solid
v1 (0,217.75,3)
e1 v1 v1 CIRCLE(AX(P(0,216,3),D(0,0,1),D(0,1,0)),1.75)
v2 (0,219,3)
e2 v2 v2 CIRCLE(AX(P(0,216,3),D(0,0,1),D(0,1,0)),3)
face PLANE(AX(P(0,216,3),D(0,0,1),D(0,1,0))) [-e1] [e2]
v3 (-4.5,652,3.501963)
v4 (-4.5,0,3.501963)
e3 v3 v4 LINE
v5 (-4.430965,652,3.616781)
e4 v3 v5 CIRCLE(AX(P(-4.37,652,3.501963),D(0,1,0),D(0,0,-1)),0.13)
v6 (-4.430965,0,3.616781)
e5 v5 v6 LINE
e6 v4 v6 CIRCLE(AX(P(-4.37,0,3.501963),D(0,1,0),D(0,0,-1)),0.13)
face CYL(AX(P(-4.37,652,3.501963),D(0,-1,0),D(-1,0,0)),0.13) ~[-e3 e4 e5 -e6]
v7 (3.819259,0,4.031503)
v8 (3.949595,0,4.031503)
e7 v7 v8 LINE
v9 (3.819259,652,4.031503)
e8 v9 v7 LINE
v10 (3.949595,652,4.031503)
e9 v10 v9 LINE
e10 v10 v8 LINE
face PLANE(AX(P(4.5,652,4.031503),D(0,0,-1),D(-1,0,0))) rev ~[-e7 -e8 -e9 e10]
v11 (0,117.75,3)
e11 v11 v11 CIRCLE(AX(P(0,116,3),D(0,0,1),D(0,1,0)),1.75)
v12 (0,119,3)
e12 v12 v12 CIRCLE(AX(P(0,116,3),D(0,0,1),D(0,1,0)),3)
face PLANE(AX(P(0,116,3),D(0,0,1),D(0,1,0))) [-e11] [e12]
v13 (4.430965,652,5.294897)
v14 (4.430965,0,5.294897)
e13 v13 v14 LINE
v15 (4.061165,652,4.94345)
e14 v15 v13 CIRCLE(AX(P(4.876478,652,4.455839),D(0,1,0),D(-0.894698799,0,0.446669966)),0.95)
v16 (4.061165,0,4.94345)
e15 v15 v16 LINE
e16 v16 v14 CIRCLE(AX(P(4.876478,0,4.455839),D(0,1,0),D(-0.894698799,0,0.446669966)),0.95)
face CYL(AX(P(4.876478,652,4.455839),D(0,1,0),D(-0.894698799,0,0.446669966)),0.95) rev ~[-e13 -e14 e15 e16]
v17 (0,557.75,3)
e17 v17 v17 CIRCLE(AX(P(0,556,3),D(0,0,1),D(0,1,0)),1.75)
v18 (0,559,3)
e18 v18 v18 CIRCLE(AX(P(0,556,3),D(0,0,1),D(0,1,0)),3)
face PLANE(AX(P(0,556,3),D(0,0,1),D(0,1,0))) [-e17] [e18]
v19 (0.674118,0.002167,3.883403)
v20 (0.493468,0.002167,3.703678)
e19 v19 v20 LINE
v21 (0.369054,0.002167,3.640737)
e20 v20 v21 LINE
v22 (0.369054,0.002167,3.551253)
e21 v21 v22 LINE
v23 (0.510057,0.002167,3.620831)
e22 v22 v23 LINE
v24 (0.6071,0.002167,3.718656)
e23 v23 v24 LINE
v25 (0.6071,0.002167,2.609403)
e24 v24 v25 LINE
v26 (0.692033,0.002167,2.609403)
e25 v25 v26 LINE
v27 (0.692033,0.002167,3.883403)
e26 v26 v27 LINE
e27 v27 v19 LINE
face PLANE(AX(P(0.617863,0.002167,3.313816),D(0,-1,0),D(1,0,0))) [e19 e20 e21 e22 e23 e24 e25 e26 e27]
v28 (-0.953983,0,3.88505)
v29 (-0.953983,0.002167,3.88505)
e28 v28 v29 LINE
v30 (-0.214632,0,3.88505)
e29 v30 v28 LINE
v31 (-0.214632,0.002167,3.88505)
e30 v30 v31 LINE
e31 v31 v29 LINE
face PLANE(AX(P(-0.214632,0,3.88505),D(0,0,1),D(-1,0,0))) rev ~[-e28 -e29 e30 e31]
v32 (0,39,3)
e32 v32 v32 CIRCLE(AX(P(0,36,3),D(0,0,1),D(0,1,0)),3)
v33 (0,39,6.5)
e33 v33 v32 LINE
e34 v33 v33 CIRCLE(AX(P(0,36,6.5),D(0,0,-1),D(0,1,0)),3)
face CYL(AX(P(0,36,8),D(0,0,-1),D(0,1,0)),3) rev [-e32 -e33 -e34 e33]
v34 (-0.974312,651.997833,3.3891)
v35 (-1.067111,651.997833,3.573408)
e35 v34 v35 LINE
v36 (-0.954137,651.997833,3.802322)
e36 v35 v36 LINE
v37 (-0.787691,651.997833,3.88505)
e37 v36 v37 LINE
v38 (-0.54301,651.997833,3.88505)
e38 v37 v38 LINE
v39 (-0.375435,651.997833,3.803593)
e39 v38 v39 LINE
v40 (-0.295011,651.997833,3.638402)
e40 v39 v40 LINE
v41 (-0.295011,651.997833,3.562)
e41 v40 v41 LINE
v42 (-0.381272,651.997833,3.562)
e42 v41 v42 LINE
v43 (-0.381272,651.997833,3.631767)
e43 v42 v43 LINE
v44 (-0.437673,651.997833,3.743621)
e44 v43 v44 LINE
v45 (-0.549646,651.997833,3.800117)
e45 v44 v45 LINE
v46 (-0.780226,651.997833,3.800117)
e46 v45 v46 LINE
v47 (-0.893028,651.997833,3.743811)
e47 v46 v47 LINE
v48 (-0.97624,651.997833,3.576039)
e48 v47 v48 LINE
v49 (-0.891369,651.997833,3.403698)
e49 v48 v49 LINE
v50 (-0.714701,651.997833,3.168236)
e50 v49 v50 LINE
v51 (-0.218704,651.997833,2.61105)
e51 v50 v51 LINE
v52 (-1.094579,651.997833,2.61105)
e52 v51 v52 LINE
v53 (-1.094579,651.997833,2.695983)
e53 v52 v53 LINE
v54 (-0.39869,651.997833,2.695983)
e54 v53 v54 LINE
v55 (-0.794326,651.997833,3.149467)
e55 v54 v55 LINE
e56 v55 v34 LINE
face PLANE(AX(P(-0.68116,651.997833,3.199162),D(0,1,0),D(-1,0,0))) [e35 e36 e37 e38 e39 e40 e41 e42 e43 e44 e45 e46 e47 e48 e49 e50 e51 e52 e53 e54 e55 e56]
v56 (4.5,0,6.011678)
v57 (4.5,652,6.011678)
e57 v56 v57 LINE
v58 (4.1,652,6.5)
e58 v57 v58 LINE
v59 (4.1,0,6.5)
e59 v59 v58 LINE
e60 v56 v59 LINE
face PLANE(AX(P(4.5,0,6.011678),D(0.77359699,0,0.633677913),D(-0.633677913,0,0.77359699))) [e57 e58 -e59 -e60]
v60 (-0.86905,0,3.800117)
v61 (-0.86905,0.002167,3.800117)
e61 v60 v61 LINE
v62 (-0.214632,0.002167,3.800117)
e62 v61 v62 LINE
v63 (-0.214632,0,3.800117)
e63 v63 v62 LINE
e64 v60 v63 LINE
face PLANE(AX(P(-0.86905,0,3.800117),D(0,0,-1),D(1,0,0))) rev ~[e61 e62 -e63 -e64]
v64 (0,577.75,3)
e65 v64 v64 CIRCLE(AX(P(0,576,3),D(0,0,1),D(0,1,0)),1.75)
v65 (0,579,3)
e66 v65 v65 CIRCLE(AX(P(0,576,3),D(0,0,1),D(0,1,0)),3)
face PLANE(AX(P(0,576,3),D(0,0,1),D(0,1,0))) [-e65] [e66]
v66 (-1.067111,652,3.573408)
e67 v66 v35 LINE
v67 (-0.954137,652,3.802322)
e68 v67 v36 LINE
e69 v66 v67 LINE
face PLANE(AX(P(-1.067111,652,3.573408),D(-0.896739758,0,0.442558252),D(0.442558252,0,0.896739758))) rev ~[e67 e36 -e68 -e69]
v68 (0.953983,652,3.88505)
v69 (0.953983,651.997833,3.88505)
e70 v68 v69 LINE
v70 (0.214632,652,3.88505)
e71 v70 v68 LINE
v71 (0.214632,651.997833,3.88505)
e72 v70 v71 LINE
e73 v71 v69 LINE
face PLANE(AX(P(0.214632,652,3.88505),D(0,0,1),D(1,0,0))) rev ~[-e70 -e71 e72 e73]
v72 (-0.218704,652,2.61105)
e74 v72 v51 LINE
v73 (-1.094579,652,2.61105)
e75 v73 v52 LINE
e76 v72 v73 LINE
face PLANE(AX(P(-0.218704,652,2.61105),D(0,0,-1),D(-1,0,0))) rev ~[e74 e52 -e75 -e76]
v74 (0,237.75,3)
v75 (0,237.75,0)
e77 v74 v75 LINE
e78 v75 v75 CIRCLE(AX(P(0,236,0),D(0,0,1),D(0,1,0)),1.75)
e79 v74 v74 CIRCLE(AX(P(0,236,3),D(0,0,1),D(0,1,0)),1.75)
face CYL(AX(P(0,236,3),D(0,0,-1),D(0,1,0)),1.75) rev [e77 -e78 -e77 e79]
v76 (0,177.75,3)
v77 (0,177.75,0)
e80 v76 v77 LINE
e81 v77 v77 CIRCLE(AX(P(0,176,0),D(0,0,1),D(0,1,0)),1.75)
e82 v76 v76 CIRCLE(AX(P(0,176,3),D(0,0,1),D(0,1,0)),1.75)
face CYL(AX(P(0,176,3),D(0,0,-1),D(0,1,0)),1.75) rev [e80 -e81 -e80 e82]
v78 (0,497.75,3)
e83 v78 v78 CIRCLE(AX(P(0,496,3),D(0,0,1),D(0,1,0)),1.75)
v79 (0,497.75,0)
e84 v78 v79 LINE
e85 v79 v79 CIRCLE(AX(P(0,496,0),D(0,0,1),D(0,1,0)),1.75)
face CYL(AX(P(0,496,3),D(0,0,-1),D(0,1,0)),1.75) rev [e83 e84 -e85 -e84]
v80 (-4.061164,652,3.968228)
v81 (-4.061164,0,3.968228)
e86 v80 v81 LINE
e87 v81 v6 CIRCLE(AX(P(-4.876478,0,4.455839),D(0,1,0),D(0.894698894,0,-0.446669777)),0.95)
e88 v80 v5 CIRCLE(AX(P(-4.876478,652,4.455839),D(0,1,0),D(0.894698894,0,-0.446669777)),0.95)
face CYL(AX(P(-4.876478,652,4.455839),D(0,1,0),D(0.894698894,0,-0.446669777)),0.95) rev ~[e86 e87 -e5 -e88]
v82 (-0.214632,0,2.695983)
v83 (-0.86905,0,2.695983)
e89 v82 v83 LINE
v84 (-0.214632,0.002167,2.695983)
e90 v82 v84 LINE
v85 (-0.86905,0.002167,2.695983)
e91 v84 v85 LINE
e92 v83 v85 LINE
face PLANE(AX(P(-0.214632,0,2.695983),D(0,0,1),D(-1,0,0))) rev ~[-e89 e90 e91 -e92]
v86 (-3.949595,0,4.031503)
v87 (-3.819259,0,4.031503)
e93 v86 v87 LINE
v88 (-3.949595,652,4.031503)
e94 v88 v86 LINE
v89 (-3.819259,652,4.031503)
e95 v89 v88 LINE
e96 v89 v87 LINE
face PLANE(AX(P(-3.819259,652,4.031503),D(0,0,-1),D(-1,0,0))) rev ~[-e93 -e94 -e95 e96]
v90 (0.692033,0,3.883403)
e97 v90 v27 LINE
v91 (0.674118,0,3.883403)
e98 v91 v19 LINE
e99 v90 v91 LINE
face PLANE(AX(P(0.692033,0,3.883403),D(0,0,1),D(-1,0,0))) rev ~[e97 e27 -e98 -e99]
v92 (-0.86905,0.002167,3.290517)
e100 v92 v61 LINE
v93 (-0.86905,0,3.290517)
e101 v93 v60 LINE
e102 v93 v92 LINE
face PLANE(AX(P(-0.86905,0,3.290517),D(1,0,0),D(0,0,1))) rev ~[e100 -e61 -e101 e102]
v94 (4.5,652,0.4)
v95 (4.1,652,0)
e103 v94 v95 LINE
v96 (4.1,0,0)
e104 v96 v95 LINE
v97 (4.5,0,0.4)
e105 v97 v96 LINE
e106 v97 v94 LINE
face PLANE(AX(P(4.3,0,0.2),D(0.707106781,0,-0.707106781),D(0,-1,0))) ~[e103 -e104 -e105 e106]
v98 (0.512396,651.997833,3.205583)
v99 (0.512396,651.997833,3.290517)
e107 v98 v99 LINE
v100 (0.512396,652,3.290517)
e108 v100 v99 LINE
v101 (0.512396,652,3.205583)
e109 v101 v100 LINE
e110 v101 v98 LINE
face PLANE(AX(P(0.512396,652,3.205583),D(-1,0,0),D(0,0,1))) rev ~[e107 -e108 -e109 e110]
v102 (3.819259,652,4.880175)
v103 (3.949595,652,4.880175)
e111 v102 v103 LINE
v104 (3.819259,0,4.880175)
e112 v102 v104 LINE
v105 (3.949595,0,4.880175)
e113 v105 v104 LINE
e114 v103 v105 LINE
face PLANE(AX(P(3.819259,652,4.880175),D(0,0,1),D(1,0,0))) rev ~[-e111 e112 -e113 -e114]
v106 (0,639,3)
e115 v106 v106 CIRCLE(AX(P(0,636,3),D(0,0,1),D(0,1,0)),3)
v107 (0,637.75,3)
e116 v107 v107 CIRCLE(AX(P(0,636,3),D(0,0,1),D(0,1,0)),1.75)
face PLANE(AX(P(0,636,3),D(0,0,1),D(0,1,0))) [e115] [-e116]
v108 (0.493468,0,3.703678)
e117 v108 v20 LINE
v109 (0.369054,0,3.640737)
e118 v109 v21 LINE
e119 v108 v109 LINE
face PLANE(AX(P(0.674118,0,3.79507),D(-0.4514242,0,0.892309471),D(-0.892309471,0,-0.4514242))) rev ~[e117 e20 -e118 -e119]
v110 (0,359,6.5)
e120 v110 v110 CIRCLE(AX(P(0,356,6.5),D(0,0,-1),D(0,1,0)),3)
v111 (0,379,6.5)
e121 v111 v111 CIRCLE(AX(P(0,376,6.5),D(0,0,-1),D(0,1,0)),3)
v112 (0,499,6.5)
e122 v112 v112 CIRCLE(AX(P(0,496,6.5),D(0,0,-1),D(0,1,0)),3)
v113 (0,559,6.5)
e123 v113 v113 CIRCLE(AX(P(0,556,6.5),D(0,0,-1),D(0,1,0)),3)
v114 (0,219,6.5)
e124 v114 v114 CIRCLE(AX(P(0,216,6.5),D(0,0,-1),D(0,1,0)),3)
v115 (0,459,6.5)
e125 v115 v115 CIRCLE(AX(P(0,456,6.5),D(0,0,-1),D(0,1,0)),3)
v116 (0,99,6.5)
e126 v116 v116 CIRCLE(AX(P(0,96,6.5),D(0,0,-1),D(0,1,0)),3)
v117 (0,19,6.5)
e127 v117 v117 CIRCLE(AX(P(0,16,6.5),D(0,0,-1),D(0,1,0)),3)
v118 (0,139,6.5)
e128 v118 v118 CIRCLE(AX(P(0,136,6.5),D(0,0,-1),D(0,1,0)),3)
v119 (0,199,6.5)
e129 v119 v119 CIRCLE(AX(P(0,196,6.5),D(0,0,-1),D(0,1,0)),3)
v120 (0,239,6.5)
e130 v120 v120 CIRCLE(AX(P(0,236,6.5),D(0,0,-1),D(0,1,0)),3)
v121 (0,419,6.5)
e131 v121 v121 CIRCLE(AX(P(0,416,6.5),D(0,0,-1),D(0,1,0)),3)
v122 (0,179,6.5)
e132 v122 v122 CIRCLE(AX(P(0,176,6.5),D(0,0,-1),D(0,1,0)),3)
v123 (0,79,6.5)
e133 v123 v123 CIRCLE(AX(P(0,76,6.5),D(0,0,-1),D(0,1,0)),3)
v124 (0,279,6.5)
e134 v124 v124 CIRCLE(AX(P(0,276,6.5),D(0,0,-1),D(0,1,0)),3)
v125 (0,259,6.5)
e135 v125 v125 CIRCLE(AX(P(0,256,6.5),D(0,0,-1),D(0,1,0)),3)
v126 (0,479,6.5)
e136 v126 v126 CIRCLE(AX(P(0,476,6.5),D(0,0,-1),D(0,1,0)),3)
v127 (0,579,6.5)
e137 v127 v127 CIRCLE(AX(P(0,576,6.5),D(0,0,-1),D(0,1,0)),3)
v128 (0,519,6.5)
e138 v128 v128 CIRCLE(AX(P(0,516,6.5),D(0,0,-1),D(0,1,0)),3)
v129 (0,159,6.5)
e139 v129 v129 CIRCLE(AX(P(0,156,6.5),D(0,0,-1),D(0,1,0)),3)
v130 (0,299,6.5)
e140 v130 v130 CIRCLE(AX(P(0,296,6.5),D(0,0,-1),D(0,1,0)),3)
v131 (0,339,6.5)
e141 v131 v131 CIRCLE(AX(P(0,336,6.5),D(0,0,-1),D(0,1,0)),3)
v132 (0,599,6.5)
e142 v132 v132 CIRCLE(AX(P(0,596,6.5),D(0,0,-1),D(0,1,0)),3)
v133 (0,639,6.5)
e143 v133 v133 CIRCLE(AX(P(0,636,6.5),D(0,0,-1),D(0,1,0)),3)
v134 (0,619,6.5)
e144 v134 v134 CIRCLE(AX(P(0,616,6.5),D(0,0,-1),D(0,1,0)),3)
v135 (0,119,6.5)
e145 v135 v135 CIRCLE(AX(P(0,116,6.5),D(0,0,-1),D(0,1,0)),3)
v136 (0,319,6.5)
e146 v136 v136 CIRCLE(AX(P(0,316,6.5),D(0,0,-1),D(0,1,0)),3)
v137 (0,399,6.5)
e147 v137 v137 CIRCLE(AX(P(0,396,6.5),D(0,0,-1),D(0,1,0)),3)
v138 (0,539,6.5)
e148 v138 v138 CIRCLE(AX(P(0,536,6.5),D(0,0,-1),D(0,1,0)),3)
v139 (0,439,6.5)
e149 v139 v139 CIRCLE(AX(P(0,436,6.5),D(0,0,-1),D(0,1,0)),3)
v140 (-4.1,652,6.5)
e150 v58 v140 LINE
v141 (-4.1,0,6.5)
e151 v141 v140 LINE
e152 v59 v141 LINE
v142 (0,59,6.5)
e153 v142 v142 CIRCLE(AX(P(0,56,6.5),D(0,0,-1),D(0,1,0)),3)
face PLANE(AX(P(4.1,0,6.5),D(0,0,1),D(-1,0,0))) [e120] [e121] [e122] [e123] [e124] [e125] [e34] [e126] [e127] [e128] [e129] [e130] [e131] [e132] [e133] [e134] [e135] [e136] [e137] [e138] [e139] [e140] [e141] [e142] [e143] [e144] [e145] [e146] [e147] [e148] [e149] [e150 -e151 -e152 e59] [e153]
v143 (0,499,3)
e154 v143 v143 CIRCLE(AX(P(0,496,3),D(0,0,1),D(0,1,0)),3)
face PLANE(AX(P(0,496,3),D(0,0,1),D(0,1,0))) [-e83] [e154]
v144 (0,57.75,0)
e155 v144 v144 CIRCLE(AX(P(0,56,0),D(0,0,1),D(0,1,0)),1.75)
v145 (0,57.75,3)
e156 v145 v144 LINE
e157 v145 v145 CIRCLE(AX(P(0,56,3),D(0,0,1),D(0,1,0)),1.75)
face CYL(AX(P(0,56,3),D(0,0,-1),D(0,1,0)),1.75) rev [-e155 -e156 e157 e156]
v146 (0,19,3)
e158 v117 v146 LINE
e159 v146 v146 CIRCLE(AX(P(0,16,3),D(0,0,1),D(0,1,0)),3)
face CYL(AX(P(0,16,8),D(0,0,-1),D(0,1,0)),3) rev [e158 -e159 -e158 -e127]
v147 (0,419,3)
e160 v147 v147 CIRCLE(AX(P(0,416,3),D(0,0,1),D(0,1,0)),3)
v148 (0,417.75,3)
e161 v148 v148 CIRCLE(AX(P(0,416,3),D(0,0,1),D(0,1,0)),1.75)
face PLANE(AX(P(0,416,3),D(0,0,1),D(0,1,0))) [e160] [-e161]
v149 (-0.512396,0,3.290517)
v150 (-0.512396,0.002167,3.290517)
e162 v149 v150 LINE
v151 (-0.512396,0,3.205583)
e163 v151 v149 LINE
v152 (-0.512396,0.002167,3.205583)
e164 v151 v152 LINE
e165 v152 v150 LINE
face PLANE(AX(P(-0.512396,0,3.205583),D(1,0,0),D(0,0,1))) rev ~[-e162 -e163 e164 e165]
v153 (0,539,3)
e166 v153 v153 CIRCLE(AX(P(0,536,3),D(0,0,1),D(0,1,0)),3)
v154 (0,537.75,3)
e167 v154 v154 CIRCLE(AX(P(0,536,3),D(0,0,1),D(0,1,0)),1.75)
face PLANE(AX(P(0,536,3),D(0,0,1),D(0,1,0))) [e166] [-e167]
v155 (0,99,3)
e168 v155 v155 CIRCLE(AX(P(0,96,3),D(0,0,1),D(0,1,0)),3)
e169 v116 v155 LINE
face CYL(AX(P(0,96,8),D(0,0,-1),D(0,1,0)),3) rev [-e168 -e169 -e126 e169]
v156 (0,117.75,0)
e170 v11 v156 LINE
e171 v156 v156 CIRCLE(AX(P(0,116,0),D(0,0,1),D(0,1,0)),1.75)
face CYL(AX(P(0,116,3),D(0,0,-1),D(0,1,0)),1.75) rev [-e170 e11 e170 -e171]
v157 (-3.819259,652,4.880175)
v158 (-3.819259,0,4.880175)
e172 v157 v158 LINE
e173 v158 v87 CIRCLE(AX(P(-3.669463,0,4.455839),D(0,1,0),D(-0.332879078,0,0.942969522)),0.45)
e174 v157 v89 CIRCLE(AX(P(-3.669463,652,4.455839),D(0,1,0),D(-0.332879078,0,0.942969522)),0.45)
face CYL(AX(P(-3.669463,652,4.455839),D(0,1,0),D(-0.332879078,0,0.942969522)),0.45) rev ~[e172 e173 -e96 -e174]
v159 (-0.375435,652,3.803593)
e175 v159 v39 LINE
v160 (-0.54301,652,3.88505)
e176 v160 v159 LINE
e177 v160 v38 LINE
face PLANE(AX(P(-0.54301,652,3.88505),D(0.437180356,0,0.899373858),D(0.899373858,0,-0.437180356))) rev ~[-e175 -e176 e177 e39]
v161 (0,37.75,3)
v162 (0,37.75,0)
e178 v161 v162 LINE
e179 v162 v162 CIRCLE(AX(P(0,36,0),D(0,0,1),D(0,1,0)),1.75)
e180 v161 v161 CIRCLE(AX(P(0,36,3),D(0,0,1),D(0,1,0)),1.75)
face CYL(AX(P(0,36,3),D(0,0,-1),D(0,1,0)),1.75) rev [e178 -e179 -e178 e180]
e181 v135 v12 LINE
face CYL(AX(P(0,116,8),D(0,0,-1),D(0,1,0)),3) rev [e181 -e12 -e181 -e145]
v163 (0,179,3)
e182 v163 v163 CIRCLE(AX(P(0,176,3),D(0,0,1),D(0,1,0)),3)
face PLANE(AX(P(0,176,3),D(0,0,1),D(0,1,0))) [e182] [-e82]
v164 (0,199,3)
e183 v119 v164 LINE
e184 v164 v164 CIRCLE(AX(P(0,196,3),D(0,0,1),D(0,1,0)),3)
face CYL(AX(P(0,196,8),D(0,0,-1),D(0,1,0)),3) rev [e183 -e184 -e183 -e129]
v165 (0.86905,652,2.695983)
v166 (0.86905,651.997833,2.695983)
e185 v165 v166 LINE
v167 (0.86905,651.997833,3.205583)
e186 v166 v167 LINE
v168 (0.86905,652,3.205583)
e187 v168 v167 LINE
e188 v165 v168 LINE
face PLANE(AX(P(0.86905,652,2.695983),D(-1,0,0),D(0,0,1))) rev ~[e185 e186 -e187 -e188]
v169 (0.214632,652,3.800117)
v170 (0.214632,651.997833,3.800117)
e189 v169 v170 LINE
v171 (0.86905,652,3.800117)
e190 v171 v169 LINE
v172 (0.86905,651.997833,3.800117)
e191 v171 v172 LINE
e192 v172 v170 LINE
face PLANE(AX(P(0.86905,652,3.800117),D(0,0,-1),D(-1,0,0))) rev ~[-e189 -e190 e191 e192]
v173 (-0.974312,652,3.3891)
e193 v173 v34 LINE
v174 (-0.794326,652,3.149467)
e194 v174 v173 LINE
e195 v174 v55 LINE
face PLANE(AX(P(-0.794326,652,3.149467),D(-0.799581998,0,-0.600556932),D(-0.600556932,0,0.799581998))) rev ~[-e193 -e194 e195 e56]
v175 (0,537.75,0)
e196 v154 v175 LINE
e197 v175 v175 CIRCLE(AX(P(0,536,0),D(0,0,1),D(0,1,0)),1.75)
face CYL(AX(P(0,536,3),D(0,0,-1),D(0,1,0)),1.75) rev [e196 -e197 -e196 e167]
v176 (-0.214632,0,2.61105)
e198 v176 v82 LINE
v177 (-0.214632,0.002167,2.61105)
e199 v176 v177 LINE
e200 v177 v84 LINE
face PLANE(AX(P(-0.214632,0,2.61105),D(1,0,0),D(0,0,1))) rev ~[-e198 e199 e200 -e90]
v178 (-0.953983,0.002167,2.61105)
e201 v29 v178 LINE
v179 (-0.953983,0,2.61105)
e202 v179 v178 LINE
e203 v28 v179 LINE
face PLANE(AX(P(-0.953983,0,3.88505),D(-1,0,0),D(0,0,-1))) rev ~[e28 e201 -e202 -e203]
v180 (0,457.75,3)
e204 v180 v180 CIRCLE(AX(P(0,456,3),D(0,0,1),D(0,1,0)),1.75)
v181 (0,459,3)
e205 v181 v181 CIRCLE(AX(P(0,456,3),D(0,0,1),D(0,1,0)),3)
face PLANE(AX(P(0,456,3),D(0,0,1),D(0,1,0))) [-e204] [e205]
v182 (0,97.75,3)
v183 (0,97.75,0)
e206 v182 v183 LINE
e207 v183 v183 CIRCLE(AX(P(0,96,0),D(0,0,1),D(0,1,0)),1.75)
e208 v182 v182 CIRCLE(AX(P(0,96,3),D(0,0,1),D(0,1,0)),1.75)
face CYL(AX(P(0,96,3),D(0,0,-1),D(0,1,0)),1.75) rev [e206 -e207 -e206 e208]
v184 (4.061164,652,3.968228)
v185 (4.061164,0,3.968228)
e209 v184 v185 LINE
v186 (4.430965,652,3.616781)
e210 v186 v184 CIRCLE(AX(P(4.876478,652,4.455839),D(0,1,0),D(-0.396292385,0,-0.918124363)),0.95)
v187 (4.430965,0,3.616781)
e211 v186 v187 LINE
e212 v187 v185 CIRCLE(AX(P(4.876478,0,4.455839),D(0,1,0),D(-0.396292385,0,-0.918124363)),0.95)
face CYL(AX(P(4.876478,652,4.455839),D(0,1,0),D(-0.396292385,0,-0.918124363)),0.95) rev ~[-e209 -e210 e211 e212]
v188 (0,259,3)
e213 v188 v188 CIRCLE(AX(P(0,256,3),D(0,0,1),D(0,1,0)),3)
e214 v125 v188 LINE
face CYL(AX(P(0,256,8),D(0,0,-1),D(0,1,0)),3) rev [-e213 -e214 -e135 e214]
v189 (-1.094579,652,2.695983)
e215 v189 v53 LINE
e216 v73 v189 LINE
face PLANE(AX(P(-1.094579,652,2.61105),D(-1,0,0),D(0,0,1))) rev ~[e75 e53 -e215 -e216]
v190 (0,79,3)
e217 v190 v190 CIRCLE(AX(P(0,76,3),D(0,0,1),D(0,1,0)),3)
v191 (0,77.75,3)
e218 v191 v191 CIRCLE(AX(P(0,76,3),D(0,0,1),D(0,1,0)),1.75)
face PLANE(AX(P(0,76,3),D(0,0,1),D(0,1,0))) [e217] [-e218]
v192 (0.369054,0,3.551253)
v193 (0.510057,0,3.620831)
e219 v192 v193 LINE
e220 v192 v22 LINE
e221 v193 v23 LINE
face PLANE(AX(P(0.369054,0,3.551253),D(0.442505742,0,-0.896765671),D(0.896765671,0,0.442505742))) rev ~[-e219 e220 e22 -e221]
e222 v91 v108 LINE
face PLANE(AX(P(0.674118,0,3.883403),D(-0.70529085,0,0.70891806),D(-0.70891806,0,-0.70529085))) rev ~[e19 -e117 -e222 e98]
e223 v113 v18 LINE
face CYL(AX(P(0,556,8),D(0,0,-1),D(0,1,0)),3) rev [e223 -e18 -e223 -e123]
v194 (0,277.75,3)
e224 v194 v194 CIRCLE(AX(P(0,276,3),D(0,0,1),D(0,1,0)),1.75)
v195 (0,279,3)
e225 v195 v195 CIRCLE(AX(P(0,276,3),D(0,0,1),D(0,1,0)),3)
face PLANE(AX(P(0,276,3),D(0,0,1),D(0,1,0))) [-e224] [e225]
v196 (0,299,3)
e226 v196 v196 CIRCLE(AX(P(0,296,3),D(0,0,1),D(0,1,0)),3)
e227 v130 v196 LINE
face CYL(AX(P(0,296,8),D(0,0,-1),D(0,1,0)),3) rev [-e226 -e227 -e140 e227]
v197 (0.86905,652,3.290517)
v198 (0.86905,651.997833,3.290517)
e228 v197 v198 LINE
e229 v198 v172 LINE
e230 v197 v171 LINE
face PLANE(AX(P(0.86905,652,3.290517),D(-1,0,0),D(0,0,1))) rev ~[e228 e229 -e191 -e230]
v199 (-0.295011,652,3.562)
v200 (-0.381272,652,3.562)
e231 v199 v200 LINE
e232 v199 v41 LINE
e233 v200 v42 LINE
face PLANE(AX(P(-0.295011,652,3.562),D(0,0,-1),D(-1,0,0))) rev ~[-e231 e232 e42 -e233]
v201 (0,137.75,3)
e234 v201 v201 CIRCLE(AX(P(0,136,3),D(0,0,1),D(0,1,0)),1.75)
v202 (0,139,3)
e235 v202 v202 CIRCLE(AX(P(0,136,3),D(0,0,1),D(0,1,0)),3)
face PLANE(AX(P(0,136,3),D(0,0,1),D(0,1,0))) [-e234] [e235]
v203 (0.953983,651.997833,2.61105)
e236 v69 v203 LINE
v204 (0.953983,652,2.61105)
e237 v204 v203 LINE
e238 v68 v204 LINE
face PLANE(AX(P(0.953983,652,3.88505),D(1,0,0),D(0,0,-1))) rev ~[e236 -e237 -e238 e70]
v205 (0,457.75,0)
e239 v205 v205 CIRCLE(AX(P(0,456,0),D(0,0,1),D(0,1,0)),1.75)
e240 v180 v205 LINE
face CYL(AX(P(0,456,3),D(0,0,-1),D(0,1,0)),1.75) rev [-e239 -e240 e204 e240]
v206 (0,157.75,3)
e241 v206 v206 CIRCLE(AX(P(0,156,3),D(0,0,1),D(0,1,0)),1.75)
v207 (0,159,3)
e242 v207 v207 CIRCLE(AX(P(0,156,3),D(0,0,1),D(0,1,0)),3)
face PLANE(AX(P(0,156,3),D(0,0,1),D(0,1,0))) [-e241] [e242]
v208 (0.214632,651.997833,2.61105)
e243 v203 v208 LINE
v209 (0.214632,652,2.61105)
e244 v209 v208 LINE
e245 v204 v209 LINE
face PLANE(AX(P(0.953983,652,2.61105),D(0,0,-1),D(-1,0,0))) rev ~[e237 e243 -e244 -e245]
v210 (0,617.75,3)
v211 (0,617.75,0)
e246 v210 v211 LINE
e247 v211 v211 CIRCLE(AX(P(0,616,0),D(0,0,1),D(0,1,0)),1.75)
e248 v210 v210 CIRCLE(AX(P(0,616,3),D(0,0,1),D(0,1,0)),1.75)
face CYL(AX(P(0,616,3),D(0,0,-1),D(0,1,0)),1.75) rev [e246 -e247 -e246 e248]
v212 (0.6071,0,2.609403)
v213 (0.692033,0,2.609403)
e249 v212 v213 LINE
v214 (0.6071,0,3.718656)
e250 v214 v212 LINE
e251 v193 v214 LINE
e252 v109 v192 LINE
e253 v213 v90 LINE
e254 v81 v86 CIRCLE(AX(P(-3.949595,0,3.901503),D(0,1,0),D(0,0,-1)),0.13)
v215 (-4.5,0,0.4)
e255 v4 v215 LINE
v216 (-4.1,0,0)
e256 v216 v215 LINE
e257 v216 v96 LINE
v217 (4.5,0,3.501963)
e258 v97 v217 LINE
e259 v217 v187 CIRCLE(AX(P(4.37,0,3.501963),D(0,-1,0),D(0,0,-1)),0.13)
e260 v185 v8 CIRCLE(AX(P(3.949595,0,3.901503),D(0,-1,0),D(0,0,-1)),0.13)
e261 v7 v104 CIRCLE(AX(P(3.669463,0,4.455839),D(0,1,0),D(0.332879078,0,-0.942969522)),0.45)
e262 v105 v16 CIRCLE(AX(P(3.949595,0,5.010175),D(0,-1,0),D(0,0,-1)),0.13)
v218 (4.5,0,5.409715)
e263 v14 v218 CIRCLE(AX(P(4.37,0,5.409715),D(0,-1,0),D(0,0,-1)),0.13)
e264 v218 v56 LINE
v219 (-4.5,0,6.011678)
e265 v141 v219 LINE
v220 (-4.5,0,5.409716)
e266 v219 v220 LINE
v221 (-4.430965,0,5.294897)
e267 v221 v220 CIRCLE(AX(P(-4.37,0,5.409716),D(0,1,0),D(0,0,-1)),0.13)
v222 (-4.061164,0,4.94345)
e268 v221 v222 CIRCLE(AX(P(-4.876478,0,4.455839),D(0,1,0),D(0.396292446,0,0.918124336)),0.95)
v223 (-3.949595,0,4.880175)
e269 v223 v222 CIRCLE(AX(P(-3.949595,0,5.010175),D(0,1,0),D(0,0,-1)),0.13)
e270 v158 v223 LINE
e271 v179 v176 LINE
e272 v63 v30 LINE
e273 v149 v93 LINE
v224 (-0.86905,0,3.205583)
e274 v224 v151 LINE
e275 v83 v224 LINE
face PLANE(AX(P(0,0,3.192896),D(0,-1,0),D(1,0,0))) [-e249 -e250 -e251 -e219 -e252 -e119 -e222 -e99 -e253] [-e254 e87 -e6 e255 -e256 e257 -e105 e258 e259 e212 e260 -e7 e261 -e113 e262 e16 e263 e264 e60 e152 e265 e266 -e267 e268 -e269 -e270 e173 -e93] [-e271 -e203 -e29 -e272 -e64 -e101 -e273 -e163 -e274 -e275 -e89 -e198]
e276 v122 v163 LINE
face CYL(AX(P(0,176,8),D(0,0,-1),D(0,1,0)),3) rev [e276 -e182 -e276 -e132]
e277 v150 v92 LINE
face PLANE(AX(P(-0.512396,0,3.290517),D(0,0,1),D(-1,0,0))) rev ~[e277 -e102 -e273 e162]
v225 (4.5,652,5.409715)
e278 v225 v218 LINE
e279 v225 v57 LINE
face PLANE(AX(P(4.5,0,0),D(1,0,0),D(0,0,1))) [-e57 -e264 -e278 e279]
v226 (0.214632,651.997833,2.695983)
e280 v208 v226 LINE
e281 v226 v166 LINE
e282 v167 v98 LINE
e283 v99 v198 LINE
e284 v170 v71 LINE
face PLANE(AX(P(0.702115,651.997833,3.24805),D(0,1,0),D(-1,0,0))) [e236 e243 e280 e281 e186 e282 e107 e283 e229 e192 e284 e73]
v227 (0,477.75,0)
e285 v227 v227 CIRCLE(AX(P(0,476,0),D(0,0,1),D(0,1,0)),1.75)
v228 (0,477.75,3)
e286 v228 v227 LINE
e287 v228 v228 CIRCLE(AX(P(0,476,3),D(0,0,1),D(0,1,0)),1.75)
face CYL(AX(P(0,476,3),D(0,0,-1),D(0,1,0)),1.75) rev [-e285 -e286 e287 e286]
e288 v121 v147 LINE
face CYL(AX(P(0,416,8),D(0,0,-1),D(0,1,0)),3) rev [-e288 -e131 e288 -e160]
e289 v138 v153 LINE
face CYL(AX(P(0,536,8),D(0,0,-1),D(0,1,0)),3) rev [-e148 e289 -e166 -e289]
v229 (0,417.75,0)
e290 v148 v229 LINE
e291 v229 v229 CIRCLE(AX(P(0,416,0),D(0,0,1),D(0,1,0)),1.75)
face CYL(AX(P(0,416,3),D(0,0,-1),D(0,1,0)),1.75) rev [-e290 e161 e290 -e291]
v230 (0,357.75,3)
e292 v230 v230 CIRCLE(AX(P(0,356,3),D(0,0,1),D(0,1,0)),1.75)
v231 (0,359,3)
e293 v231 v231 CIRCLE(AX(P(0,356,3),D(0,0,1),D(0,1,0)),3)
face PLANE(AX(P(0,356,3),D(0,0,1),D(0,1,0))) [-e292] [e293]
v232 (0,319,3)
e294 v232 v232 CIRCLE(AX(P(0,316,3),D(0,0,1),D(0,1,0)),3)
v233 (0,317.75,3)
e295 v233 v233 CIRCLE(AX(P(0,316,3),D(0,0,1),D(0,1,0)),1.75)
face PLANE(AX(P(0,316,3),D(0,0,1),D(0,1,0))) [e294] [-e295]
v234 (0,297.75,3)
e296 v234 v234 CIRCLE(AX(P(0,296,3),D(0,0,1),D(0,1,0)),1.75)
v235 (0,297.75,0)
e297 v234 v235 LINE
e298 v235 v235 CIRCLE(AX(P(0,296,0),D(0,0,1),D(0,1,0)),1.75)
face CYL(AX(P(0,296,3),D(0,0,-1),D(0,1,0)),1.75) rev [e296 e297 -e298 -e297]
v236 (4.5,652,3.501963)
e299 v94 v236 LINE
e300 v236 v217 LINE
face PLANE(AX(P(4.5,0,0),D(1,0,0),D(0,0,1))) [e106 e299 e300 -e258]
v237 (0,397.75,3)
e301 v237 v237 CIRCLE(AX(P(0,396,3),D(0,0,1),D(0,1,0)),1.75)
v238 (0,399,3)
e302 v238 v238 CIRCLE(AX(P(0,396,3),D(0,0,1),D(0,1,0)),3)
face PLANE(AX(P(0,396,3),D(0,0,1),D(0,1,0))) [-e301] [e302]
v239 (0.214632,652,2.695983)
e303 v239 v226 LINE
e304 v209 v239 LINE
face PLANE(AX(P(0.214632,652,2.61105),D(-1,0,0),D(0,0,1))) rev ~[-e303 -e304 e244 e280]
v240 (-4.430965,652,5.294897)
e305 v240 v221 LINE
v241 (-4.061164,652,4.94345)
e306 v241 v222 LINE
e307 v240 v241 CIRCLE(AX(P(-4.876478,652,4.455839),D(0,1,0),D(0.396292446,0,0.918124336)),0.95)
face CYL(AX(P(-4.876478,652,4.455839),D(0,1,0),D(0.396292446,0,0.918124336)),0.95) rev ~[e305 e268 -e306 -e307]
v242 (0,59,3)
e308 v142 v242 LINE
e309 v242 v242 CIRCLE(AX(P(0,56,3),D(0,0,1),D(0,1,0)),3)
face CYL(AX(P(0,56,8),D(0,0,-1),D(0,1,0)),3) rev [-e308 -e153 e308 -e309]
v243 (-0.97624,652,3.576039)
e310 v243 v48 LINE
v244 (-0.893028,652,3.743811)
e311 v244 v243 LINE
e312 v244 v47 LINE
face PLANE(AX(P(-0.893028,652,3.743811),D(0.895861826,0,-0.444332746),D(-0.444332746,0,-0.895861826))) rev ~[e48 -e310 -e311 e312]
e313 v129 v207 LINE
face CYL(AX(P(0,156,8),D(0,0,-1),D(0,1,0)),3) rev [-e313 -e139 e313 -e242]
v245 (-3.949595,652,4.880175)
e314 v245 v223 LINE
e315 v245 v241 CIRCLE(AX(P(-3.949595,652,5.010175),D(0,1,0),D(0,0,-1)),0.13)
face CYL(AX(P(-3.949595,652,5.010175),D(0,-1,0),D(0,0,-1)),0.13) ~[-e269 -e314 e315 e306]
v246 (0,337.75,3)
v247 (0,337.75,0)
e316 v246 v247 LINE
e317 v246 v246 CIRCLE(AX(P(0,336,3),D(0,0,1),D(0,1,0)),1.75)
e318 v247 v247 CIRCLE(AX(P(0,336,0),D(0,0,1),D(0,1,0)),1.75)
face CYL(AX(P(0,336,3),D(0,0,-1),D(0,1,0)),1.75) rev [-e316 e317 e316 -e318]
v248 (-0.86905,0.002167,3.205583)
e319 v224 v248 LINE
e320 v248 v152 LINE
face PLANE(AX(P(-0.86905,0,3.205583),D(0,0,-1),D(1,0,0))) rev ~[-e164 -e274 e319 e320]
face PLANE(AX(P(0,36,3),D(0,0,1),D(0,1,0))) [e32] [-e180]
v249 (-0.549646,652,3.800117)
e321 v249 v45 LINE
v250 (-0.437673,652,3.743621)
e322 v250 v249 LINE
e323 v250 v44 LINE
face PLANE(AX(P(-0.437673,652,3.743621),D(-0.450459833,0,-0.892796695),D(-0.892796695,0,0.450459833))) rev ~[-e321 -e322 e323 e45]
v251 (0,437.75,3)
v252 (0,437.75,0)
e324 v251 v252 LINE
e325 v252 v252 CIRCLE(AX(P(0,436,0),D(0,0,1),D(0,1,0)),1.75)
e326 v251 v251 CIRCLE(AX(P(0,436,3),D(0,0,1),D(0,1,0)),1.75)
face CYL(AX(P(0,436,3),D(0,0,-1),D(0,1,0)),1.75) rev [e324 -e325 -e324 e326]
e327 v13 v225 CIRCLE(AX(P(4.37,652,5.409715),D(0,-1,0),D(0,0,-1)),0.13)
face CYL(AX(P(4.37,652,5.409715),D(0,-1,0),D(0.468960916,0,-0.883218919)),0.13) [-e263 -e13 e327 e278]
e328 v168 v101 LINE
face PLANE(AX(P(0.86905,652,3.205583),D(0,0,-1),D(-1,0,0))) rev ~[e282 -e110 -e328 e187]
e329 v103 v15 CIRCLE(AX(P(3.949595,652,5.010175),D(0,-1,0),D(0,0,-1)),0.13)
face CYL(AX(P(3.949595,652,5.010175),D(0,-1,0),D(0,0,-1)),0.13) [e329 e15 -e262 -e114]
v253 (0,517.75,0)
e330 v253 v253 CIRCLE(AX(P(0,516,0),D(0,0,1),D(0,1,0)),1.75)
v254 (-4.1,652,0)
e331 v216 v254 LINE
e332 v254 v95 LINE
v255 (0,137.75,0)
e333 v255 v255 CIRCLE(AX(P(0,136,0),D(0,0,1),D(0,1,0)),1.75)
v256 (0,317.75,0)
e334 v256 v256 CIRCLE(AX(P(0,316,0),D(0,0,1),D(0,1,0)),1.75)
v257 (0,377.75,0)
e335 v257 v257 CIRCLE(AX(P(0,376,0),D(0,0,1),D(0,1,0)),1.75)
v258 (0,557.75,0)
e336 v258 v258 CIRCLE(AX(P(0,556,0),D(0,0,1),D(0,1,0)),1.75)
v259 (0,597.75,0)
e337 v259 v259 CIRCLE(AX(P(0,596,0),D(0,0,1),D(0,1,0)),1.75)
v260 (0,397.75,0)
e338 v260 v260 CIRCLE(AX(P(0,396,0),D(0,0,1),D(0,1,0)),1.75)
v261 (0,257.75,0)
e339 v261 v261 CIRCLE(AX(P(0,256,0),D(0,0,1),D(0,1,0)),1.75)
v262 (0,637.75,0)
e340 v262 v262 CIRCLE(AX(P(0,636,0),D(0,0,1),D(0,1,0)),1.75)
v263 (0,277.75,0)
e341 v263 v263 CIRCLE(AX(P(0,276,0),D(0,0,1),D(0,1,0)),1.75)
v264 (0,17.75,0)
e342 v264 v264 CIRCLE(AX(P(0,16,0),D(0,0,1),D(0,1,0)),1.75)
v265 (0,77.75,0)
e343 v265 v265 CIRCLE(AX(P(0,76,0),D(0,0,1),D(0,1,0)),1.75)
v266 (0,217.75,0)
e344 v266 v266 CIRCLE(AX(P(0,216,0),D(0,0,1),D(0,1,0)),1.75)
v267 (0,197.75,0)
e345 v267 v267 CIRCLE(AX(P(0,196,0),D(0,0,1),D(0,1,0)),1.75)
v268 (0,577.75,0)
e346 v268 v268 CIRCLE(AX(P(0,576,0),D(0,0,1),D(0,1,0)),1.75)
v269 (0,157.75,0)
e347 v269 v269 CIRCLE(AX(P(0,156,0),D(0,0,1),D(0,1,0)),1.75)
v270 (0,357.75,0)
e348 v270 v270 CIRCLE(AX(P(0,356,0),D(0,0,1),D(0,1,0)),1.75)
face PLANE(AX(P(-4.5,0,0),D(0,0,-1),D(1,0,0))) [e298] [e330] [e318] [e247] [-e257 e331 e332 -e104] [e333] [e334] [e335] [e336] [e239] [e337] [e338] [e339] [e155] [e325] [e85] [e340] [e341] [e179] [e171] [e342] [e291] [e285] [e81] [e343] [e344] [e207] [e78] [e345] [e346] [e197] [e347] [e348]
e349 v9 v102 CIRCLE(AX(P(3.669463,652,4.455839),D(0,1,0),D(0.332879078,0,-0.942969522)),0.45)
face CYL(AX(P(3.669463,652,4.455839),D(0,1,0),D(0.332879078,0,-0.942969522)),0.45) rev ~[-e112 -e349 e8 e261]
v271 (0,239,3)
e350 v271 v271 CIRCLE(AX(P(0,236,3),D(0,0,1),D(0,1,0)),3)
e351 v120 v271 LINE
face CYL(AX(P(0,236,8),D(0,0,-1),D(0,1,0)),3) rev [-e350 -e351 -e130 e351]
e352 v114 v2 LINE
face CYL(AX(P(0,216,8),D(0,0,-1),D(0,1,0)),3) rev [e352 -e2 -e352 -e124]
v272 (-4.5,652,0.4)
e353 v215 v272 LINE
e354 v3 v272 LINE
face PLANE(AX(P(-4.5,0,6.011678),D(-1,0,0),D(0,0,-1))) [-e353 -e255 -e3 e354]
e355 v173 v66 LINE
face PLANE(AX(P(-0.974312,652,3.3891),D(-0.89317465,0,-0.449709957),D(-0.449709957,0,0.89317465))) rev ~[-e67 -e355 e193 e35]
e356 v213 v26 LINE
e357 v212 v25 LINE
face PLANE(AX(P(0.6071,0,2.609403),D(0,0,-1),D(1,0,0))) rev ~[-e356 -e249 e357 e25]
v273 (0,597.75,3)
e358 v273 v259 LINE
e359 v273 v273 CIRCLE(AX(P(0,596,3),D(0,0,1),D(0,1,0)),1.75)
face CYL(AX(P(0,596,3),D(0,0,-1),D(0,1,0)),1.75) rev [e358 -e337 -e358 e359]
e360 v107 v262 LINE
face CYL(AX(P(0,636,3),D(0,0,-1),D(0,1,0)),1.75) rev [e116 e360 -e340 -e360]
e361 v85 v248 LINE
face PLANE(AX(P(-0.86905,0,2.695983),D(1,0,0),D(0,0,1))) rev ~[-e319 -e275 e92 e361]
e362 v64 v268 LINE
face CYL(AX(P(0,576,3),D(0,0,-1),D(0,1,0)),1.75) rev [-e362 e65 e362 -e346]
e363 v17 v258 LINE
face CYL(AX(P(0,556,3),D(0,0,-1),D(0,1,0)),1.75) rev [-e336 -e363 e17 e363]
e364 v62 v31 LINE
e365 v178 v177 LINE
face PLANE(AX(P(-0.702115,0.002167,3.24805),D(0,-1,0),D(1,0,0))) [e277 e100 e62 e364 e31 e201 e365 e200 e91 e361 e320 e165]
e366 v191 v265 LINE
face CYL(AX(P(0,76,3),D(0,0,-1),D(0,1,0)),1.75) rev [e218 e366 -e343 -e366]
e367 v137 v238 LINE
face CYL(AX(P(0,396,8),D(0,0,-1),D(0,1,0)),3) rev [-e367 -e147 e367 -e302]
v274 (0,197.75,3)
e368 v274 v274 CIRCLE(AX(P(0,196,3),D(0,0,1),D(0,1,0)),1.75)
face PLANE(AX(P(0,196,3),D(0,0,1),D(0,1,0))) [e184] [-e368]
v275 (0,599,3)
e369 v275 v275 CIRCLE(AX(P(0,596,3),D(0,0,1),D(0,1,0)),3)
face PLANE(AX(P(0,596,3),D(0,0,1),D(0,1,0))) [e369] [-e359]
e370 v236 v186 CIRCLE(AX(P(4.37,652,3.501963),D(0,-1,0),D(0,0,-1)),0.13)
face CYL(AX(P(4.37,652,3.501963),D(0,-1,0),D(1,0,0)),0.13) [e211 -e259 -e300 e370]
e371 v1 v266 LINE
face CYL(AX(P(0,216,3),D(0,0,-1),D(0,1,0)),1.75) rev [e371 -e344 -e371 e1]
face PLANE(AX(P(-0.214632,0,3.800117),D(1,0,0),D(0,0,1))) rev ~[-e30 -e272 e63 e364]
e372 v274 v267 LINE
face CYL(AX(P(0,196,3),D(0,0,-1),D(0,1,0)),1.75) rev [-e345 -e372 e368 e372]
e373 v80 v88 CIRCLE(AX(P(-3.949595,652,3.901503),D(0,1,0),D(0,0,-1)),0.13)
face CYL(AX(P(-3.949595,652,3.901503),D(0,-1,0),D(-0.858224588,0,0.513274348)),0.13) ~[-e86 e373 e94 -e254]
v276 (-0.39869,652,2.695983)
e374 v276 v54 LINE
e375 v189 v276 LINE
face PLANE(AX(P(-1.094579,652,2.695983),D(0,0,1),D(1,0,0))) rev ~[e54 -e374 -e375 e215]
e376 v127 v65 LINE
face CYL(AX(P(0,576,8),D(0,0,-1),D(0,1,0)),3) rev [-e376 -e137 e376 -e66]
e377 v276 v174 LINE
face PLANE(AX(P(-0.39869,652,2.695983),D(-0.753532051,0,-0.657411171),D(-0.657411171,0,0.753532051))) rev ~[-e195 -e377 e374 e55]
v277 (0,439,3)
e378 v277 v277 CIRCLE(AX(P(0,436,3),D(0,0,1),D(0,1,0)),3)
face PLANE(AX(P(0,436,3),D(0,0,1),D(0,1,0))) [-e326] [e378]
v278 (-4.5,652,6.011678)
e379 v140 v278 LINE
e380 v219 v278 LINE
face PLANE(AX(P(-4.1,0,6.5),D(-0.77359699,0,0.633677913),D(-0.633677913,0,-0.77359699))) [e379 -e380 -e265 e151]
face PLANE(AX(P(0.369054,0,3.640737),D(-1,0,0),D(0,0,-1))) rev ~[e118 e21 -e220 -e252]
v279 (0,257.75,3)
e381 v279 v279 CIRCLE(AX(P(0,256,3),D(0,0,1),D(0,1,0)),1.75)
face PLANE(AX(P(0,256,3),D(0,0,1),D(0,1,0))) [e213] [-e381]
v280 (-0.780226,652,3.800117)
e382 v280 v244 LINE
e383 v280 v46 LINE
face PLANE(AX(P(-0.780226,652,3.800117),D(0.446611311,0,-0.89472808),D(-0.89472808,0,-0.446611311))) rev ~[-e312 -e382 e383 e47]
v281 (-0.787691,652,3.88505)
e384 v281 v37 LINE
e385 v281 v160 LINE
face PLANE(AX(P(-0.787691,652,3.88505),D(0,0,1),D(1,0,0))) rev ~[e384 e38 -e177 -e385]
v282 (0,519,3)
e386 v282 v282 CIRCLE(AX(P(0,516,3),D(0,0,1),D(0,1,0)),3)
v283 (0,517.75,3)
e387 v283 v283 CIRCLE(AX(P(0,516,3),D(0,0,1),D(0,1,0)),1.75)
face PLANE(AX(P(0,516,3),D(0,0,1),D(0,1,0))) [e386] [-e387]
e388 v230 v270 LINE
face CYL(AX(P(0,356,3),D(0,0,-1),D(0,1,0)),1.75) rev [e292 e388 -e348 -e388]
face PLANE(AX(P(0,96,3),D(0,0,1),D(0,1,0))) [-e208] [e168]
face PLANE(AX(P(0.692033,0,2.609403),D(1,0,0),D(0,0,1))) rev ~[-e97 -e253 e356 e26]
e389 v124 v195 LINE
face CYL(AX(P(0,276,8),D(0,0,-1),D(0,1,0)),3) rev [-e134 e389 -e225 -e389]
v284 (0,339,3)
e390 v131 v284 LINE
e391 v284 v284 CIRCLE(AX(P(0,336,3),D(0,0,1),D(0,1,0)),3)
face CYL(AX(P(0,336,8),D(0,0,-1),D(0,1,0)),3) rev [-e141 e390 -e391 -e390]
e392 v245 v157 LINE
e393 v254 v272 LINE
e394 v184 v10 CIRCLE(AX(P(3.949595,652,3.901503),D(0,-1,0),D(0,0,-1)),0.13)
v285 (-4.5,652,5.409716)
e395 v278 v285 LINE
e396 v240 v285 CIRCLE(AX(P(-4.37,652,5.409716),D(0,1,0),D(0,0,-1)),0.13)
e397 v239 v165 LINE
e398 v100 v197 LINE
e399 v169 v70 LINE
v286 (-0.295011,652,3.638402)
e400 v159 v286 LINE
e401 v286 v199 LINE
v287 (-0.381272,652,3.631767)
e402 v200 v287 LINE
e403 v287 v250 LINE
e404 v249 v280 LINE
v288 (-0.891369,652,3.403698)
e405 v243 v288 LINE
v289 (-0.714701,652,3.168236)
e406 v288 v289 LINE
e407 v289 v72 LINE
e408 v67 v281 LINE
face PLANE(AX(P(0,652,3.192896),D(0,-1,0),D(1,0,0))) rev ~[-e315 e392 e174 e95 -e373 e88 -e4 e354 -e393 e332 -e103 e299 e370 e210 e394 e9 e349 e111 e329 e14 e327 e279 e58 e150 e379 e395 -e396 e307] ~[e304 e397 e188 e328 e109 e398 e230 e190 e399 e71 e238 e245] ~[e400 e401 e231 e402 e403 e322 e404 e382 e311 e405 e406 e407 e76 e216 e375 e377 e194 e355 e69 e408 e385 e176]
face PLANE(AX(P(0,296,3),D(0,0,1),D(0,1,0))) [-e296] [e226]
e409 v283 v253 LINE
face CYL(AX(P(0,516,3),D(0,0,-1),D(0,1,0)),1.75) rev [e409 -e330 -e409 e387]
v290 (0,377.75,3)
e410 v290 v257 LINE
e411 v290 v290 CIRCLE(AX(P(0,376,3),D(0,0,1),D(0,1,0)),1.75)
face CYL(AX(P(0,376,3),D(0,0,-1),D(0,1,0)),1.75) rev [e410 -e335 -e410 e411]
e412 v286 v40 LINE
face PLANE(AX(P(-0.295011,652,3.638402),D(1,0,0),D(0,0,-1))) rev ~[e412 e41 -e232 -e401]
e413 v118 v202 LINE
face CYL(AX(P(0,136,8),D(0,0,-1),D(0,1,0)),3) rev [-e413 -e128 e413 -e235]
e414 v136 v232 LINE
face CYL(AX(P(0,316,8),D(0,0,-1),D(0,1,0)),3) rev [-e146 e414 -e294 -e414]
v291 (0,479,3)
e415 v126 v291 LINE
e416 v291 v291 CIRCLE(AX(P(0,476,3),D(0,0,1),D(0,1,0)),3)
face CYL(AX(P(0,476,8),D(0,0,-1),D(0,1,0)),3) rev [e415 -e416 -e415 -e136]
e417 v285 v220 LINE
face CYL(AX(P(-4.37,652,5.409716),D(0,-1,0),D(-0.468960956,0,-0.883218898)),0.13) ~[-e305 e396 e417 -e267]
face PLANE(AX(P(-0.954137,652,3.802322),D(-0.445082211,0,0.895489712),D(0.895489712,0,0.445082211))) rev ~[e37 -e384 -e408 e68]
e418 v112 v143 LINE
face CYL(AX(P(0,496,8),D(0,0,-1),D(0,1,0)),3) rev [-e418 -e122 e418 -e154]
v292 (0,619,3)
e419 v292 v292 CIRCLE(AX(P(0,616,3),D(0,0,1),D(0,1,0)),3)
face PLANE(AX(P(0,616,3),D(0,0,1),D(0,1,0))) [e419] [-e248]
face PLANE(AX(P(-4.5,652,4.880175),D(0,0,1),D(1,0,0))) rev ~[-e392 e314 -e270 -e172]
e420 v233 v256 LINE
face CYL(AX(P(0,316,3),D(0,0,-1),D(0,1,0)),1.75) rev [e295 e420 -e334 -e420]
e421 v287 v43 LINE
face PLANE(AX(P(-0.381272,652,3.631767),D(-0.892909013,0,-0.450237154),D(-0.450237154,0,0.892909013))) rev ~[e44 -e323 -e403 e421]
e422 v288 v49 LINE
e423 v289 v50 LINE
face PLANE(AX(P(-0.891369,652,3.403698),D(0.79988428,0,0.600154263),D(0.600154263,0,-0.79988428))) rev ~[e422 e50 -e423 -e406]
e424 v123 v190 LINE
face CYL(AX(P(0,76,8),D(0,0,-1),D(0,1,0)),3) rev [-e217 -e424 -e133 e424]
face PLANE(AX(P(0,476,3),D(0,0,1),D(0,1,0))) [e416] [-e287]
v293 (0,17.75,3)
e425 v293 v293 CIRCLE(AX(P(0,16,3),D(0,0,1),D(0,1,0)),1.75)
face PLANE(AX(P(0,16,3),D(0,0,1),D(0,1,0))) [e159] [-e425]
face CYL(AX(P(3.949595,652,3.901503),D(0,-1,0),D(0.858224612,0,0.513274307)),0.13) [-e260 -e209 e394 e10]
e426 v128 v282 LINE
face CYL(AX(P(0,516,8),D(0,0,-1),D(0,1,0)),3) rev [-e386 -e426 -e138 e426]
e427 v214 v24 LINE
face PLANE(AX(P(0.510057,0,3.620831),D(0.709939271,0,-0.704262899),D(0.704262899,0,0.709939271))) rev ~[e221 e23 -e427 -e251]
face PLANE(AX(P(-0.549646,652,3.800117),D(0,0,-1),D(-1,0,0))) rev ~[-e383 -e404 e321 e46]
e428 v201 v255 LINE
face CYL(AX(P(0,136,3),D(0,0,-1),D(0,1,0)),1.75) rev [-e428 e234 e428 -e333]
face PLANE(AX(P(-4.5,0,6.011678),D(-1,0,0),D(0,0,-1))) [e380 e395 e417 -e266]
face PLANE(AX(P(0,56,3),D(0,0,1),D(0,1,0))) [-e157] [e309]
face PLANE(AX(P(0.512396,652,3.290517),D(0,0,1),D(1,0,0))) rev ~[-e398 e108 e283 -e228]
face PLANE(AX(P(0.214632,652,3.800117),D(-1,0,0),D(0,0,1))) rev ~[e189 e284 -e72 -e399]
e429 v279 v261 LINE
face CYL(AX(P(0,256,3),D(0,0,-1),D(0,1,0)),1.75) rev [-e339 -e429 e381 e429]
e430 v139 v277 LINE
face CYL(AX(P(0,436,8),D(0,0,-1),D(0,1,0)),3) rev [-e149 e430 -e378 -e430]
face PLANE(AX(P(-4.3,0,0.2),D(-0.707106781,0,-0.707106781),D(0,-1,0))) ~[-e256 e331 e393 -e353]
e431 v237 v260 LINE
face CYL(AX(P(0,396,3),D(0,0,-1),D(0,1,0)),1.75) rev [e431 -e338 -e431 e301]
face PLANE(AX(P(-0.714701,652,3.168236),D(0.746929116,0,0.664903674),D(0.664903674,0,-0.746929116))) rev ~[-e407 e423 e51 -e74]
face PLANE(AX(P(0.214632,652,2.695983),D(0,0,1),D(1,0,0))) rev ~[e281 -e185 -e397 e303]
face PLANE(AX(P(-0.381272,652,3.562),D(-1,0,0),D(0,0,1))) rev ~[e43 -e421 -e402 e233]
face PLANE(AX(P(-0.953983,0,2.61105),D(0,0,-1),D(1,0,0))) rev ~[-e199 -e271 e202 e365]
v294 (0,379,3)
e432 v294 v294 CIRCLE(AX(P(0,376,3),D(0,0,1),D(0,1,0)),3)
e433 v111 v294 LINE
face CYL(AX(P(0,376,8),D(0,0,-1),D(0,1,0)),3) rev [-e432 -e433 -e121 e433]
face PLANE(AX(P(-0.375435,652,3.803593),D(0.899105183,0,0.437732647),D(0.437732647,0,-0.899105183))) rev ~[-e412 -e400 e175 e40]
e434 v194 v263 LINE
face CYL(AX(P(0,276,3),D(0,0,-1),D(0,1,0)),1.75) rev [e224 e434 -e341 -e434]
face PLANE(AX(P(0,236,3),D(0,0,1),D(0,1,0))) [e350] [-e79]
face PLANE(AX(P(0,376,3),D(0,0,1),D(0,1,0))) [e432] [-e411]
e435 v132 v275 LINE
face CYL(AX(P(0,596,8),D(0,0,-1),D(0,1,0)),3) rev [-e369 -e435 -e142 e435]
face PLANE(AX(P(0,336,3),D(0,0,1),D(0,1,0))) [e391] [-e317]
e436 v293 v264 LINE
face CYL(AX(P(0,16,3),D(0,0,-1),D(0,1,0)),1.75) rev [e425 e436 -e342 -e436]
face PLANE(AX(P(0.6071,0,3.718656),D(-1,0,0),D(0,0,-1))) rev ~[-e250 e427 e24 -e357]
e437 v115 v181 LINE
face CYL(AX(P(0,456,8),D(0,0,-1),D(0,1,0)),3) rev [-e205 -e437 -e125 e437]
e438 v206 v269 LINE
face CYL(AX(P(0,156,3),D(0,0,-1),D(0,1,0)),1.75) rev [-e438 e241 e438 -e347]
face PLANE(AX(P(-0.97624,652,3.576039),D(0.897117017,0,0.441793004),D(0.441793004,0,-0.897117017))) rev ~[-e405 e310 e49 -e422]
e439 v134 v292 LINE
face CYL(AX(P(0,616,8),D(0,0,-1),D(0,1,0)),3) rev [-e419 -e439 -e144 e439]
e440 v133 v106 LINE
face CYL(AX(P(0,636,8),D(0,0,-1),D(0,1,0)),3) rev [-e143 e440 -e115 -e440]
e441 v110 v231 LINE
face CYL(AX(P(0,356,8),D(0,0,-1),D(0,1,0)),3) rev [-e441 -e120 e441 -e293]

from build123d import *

# Parameters (mm, degrees)
SALIENTE_EXTRUIR1_DEPTH = 652
CORTAR_EXTRUIR1_DEPTH   = 653
CORTAR_EXTRUIR2_DEPTH   = 653
CORTAR_EXTRUIR3_DEPTH   = 653
CORTAR_EXTRUIR4_DEPTH   = 653
CORTAR_EXTRUIR5_DEPTH   = 653
CORTAR_EXTRUIR6_DEPTH   = 653
CORTAR_EXTRUIR7_DEPTH   = 0.002166667
CORTAR_EXTRUIR8_DEPTH   = 0.002166667
CORTAR_EXTRUIR9_DEPTH   = 0.002166667
CORTAR_EXTRUIR10_DEPTH  = 0.002166667
NGULO_DE_SALIDA1_ANGLE  = 45.1469538
CHAFL_N1_SIZE           = 0.4
REDONDEO1_R             = 0.130000023
MATRIZL2_COUNT          = 32
MATRIZL2_PITCH          = 20


with BuildPart() as part:
    # Croquis1 → Saliente-Extruir1 (new body)
    with BuildSketch(Plane.XZ):
        Polygon((4.5, 0), (4.5, 6.01167813), (4.1, 6.50000002), (-4.1, 6.50000002), (-4.5, 6.01167813), (-4.5, 0), align=None)
    extrude(amount=-SALIENTE_EXTRUIR1_DEPTH)

    # Croquis2 → Cortar-Extruir1 (cut, through all)
    with BuildSketch(Plane(origin=(0, 652, 0), x_dir=(-1, 0, 0), z_dir=(0, 1, 0))):
        with BuildLine():
            Line((-4.5, 4.88017535), (-4.5, 4.03150278))
            Line((-4.5, 4.03150278), (-3.819258765, 4.03150278))
            ThreePointArc((-3.819258765, 4.03150278), (-3.21946318, 4.455839065), (-3.819258765, 4.88017535))
            Line((-3.819258765, 4.88017535), (-4.5, 4.88017535))
        make_face()
    extrude(amount=-CORTAR_EXTRUIR1_DEPTH, mode=Mode.SUBTRACT)

    # Croquis3 → Cortar-Extruir2 (cut, through all)
    with BuildSketch(Plane(origin=(0, 652, 0), x_dir=(-1, 0, 0), z_dir=(0, 1, 0))):
        with BuildLine():
            Line((-4.026513856, 4.03150278), (-4.5, 4.03150278))
            Line((-4.5, 4.03150278), (-4.5, 3.583620931))
            ThreePointArc((-4.5, 3.583620931), (-4.223645982, 3.76568645), (-4.026513856, 4.03150278))
        make_face()
    extrude(amount=-CORTAR_EXTRUIR2_DEPTH, mode=Mode.SUBTRACT)

    # Croquis4 → Cortar-Extruir3 (cut, through all)
    with BuildSketch(Plane(origin=(0, 652, 0), x_dir=(-1, 0, 0), z_dir=(0, 1, 0))):
        with BuildLine():
            Line((-4.5, 5.328056964), (-4.5, 4.88017535))
            Line((-4.5, 4.88017535), (-4.026513974, 4.88017535))
            ThreePointArc((-4.026513974, 4.88017535), (-4.223646078, 5.145991535), (-4.5, 5.328056964))
        make_face()
    extrude(amount=-CORTAR_EXTRUIR3_DEPTH, mode=Mode.SUBTRACT)

    # Croquis5 → Cortar-Extruir4 (cut, through all)
    with BuildSketch(Plane(origin=(0, 652, 0), x_dir=(-1, 0, 0), z_dir=(0, 1, 0))):
        with BuildLine():
            Line((4.5, 4.03150278), (4.5, 4.88017535))
            Line((4.5, 4.88017535), (3.819258765, 4.88017535))
            ThreePointArc((3.819258765, 4.88017535), (3.21946318, 4.455839065), (3.819258765, 4.03150278))
            Line((3.819258765, 4.03150278), (4.5, 4.03150278))
        make_face()
    extrude(amount=-CORTAR_EXTRUIR4_DEPTH, mode=Mode.SUBTRACT)

    # Croquis6 → Cortar-Extruir5 (cut, through all)
    with BuildSketch(Plane(origin=(0, 652, 0), x_dir=(-1, 0, 0), z_dir=(0, 1, 0))):
        with BuildLine():
            Line((4.026513826, 4.88017535), (4.5, 4.88017535))
            Line((4.5, 4.88017535), (4.5, 5.328057255))
            ThreePointArc((4.5, 5.328057255), (4.223645966, 5.145991706), (4.026513826, 4.88017535))
        make_face()
    extrude(amount=-CORTAR_EXTRUIR5_DEPTH, mode=Mode.SUBTRACT)

    # Croquis7 → Cortar-Extruir6 (cut, through all)
    with BuildSketch(Plane(origin=(0, 652, 0), x_dir=(-1, 0, 0), z_dir=(0, 1, 0))):
        with BuildLine():
            Line((4.5, 3.583620926), (4.5, 4.03150278))
            Line((4.5, 4.03150278), (4.026513851, 4.03150278))
            ThreePointArc((4.026513851, 4.03150278), (4.223645987, 3.765686455), (4.5, 3.583620926))
        make_face()
    extrude(amount=-CORTAR_EXTRUIR6_DEPTH, mode=Mode.SUBTRACT)

    # Croquis8 → Cortar-Extruir7 (cut)
    with BuildSketch(Plane(origin=(0, 652, 0), x_dir=(-1, 0, 0), z_dir=(0, 1, 0))):
        Polygon((0.891369267, 3.403698133), (0.714701433, 3.168235633), (0.2187042, 2.61105), (1.0945792, 2.61105), (1.0945792, 2.695983333), (0.398689633, 2.695983333), (0.794326433, 3.149466667), (0.9743123, 3.3891), (1.067110588, 3.573407857), (0.95413722, 3.802321701), (0.7876908, 3.88505), (0.54301, 3.88505), (0.375434678, 3.803592619), (0.295011167, 3.6384023), (0.295011167, 3.562), (0.3812718, 3.562), (0.3812718, 3.631766667), (0.437672733, 3.743620833), (0.549645633, 3.800116667), (0.7802262, 3.800116667), (0.893028067, 3.743810633), (0.976240026, 3.576039029), align=None)
    extrude(amount=-CORTAR_EXTRUIR7_DEPTH, mode=Mode.SUBTRACT)

    # Croquis9 → Cortar-Extruir8 (cut)
    with BuildSketch(Plane.XZ):
        Polygon((-0.214632167, 3.88505), (-0.953983333, 3.88505), (-0.953983333, 2.61105), (-0.214632167, 2.61105), (-0.214632167, 2.695983333), (-0.86905, 2.695983333), (-0.86905, 3.205583333), (-0.5123963, 3.205583333), (-0.5123963, 3.290516667), (-0.86905, 3.290516667), (-0.86905, 3.800116667), (-0.214632167, 3.800116667), align=None)
    extrude(amount=-CORTAR_EXTRUIR8_DEPTH, mode=Mode.SUBTRACT)

    # Croquis10 → Cortar-Extruir9 (cut)
    with BuildSketch(Plane(origin=(0, 652, 0), x_dir=(-1, 0, 0), z_dir=(0, 1, 0))):
        Polygon((-0.214632167, 3.88505), (-0.953983333, 3.88505), (-0.953983333, 2.61105), (-0.214632167, 2.61105), (-0.214632167, 2.695983333), (-0.86905, 2.695983333), (-0.86905, 3.205583333), (-0.5123963, 3.205583333), (-0.5123963, 3.290516667), (-0.86905, 3.290516667), (-0.86905, 3.800116667), (-0.214632167, 3.800116667), align=None)
    extrude(amount=-CORTAR_EXTRUIR9_DEPTH, mode=Mode.SUBTRACT)

    # Croquis11 → Cortar-Extruir10 (cut)
    with BuildSketch(Plane.XZ):
        Polygon((0.510057167, 3.620830633), (0.6071, 3.718655633), (0.6071, 2.609403333), (0.692033333, 2.609403333), (0.692033333, 3.883403333), (0.6741176, 3.883403333), (0.6741176, 3.795069794), (0.3690544, 3.640736667), (0.3690544, 3.551253333), align=None)
    extrude(amount=-CORTAR_EXTRUIR10_DEPTH, mode=Mode.SUBTRACT)

    # Ángulo de salida1
    ngulo_de_salida1_faces = [part.faces().sort_by_distance(p)[0] for p in [
        (0.6741176, 0.001083333, 3.839236564),
    ]]
    draft(ngulo_de_salida1_faces, Plane(origin=(0.692033333, 0.002166667, 3.883403333), x_dir=(-1, 0, 0), z_dir=(0, 0, -1)), NGULO_DE_SALIDA1_ANGLE)

    # Chaflán1
    chafl_n1_edges = [part.edges().sort_by_distance(p)[0] for p in [
        (-4.5, 326, 0),
        (4.5, 326, 0),
    ]]
    chamfer(chafl_n1_edges, length=CHAFL_N1_SIZE)

    # Redondeo1
    redondeo1_edges = [part.edges().sort_by_distance(p)[0] for p in [
        (4.026513856, 326, 4.03150278),
        (4.5, 326, 3.583620931),
        (4.5, 326, 5.328056964),
        (4.026513974, 326, 4.88017535),
        (-4.026513826, 326, 4.88017535),
        (-4.5, 326, 5.328057255),
        (-4.5, 326, 3.583620926),
        (-4.026513851, 326, 4.03150278),
    ]]
    fillet(redondeo1_edges, radius=REDONDEO1_R)

    # Croquis34 → Taladro roscado M3.5x0.61 (revolve, cut)
    with BuildSketch(Plane(origin=(0, 16, 0), x_dir=(0, 1, 0), z_dir=(1, 0, 0))):
        Polygon((0, 0), (0, 8), (3, 8), (3, 3), (1.75, 3), (1.75, 0), align=None)
    taladro_roscado_m3_5x0_61 = revolve(axis=Axis((0, 16, -6.35), (0, 0, 1)), mode=Mode.SUBTRACT)

    # MatrizL2: Taladro roscado M3.5x0.61 ×32
    with Locations(*[(0, i * MATRIZL2_PITCH, 0) for i in range(1, MATRIZL2_COUNT)]):
        add(taladro_roscado_m3_5x0_61, mode=Mode.SUBTRACT)


solid = part.part
